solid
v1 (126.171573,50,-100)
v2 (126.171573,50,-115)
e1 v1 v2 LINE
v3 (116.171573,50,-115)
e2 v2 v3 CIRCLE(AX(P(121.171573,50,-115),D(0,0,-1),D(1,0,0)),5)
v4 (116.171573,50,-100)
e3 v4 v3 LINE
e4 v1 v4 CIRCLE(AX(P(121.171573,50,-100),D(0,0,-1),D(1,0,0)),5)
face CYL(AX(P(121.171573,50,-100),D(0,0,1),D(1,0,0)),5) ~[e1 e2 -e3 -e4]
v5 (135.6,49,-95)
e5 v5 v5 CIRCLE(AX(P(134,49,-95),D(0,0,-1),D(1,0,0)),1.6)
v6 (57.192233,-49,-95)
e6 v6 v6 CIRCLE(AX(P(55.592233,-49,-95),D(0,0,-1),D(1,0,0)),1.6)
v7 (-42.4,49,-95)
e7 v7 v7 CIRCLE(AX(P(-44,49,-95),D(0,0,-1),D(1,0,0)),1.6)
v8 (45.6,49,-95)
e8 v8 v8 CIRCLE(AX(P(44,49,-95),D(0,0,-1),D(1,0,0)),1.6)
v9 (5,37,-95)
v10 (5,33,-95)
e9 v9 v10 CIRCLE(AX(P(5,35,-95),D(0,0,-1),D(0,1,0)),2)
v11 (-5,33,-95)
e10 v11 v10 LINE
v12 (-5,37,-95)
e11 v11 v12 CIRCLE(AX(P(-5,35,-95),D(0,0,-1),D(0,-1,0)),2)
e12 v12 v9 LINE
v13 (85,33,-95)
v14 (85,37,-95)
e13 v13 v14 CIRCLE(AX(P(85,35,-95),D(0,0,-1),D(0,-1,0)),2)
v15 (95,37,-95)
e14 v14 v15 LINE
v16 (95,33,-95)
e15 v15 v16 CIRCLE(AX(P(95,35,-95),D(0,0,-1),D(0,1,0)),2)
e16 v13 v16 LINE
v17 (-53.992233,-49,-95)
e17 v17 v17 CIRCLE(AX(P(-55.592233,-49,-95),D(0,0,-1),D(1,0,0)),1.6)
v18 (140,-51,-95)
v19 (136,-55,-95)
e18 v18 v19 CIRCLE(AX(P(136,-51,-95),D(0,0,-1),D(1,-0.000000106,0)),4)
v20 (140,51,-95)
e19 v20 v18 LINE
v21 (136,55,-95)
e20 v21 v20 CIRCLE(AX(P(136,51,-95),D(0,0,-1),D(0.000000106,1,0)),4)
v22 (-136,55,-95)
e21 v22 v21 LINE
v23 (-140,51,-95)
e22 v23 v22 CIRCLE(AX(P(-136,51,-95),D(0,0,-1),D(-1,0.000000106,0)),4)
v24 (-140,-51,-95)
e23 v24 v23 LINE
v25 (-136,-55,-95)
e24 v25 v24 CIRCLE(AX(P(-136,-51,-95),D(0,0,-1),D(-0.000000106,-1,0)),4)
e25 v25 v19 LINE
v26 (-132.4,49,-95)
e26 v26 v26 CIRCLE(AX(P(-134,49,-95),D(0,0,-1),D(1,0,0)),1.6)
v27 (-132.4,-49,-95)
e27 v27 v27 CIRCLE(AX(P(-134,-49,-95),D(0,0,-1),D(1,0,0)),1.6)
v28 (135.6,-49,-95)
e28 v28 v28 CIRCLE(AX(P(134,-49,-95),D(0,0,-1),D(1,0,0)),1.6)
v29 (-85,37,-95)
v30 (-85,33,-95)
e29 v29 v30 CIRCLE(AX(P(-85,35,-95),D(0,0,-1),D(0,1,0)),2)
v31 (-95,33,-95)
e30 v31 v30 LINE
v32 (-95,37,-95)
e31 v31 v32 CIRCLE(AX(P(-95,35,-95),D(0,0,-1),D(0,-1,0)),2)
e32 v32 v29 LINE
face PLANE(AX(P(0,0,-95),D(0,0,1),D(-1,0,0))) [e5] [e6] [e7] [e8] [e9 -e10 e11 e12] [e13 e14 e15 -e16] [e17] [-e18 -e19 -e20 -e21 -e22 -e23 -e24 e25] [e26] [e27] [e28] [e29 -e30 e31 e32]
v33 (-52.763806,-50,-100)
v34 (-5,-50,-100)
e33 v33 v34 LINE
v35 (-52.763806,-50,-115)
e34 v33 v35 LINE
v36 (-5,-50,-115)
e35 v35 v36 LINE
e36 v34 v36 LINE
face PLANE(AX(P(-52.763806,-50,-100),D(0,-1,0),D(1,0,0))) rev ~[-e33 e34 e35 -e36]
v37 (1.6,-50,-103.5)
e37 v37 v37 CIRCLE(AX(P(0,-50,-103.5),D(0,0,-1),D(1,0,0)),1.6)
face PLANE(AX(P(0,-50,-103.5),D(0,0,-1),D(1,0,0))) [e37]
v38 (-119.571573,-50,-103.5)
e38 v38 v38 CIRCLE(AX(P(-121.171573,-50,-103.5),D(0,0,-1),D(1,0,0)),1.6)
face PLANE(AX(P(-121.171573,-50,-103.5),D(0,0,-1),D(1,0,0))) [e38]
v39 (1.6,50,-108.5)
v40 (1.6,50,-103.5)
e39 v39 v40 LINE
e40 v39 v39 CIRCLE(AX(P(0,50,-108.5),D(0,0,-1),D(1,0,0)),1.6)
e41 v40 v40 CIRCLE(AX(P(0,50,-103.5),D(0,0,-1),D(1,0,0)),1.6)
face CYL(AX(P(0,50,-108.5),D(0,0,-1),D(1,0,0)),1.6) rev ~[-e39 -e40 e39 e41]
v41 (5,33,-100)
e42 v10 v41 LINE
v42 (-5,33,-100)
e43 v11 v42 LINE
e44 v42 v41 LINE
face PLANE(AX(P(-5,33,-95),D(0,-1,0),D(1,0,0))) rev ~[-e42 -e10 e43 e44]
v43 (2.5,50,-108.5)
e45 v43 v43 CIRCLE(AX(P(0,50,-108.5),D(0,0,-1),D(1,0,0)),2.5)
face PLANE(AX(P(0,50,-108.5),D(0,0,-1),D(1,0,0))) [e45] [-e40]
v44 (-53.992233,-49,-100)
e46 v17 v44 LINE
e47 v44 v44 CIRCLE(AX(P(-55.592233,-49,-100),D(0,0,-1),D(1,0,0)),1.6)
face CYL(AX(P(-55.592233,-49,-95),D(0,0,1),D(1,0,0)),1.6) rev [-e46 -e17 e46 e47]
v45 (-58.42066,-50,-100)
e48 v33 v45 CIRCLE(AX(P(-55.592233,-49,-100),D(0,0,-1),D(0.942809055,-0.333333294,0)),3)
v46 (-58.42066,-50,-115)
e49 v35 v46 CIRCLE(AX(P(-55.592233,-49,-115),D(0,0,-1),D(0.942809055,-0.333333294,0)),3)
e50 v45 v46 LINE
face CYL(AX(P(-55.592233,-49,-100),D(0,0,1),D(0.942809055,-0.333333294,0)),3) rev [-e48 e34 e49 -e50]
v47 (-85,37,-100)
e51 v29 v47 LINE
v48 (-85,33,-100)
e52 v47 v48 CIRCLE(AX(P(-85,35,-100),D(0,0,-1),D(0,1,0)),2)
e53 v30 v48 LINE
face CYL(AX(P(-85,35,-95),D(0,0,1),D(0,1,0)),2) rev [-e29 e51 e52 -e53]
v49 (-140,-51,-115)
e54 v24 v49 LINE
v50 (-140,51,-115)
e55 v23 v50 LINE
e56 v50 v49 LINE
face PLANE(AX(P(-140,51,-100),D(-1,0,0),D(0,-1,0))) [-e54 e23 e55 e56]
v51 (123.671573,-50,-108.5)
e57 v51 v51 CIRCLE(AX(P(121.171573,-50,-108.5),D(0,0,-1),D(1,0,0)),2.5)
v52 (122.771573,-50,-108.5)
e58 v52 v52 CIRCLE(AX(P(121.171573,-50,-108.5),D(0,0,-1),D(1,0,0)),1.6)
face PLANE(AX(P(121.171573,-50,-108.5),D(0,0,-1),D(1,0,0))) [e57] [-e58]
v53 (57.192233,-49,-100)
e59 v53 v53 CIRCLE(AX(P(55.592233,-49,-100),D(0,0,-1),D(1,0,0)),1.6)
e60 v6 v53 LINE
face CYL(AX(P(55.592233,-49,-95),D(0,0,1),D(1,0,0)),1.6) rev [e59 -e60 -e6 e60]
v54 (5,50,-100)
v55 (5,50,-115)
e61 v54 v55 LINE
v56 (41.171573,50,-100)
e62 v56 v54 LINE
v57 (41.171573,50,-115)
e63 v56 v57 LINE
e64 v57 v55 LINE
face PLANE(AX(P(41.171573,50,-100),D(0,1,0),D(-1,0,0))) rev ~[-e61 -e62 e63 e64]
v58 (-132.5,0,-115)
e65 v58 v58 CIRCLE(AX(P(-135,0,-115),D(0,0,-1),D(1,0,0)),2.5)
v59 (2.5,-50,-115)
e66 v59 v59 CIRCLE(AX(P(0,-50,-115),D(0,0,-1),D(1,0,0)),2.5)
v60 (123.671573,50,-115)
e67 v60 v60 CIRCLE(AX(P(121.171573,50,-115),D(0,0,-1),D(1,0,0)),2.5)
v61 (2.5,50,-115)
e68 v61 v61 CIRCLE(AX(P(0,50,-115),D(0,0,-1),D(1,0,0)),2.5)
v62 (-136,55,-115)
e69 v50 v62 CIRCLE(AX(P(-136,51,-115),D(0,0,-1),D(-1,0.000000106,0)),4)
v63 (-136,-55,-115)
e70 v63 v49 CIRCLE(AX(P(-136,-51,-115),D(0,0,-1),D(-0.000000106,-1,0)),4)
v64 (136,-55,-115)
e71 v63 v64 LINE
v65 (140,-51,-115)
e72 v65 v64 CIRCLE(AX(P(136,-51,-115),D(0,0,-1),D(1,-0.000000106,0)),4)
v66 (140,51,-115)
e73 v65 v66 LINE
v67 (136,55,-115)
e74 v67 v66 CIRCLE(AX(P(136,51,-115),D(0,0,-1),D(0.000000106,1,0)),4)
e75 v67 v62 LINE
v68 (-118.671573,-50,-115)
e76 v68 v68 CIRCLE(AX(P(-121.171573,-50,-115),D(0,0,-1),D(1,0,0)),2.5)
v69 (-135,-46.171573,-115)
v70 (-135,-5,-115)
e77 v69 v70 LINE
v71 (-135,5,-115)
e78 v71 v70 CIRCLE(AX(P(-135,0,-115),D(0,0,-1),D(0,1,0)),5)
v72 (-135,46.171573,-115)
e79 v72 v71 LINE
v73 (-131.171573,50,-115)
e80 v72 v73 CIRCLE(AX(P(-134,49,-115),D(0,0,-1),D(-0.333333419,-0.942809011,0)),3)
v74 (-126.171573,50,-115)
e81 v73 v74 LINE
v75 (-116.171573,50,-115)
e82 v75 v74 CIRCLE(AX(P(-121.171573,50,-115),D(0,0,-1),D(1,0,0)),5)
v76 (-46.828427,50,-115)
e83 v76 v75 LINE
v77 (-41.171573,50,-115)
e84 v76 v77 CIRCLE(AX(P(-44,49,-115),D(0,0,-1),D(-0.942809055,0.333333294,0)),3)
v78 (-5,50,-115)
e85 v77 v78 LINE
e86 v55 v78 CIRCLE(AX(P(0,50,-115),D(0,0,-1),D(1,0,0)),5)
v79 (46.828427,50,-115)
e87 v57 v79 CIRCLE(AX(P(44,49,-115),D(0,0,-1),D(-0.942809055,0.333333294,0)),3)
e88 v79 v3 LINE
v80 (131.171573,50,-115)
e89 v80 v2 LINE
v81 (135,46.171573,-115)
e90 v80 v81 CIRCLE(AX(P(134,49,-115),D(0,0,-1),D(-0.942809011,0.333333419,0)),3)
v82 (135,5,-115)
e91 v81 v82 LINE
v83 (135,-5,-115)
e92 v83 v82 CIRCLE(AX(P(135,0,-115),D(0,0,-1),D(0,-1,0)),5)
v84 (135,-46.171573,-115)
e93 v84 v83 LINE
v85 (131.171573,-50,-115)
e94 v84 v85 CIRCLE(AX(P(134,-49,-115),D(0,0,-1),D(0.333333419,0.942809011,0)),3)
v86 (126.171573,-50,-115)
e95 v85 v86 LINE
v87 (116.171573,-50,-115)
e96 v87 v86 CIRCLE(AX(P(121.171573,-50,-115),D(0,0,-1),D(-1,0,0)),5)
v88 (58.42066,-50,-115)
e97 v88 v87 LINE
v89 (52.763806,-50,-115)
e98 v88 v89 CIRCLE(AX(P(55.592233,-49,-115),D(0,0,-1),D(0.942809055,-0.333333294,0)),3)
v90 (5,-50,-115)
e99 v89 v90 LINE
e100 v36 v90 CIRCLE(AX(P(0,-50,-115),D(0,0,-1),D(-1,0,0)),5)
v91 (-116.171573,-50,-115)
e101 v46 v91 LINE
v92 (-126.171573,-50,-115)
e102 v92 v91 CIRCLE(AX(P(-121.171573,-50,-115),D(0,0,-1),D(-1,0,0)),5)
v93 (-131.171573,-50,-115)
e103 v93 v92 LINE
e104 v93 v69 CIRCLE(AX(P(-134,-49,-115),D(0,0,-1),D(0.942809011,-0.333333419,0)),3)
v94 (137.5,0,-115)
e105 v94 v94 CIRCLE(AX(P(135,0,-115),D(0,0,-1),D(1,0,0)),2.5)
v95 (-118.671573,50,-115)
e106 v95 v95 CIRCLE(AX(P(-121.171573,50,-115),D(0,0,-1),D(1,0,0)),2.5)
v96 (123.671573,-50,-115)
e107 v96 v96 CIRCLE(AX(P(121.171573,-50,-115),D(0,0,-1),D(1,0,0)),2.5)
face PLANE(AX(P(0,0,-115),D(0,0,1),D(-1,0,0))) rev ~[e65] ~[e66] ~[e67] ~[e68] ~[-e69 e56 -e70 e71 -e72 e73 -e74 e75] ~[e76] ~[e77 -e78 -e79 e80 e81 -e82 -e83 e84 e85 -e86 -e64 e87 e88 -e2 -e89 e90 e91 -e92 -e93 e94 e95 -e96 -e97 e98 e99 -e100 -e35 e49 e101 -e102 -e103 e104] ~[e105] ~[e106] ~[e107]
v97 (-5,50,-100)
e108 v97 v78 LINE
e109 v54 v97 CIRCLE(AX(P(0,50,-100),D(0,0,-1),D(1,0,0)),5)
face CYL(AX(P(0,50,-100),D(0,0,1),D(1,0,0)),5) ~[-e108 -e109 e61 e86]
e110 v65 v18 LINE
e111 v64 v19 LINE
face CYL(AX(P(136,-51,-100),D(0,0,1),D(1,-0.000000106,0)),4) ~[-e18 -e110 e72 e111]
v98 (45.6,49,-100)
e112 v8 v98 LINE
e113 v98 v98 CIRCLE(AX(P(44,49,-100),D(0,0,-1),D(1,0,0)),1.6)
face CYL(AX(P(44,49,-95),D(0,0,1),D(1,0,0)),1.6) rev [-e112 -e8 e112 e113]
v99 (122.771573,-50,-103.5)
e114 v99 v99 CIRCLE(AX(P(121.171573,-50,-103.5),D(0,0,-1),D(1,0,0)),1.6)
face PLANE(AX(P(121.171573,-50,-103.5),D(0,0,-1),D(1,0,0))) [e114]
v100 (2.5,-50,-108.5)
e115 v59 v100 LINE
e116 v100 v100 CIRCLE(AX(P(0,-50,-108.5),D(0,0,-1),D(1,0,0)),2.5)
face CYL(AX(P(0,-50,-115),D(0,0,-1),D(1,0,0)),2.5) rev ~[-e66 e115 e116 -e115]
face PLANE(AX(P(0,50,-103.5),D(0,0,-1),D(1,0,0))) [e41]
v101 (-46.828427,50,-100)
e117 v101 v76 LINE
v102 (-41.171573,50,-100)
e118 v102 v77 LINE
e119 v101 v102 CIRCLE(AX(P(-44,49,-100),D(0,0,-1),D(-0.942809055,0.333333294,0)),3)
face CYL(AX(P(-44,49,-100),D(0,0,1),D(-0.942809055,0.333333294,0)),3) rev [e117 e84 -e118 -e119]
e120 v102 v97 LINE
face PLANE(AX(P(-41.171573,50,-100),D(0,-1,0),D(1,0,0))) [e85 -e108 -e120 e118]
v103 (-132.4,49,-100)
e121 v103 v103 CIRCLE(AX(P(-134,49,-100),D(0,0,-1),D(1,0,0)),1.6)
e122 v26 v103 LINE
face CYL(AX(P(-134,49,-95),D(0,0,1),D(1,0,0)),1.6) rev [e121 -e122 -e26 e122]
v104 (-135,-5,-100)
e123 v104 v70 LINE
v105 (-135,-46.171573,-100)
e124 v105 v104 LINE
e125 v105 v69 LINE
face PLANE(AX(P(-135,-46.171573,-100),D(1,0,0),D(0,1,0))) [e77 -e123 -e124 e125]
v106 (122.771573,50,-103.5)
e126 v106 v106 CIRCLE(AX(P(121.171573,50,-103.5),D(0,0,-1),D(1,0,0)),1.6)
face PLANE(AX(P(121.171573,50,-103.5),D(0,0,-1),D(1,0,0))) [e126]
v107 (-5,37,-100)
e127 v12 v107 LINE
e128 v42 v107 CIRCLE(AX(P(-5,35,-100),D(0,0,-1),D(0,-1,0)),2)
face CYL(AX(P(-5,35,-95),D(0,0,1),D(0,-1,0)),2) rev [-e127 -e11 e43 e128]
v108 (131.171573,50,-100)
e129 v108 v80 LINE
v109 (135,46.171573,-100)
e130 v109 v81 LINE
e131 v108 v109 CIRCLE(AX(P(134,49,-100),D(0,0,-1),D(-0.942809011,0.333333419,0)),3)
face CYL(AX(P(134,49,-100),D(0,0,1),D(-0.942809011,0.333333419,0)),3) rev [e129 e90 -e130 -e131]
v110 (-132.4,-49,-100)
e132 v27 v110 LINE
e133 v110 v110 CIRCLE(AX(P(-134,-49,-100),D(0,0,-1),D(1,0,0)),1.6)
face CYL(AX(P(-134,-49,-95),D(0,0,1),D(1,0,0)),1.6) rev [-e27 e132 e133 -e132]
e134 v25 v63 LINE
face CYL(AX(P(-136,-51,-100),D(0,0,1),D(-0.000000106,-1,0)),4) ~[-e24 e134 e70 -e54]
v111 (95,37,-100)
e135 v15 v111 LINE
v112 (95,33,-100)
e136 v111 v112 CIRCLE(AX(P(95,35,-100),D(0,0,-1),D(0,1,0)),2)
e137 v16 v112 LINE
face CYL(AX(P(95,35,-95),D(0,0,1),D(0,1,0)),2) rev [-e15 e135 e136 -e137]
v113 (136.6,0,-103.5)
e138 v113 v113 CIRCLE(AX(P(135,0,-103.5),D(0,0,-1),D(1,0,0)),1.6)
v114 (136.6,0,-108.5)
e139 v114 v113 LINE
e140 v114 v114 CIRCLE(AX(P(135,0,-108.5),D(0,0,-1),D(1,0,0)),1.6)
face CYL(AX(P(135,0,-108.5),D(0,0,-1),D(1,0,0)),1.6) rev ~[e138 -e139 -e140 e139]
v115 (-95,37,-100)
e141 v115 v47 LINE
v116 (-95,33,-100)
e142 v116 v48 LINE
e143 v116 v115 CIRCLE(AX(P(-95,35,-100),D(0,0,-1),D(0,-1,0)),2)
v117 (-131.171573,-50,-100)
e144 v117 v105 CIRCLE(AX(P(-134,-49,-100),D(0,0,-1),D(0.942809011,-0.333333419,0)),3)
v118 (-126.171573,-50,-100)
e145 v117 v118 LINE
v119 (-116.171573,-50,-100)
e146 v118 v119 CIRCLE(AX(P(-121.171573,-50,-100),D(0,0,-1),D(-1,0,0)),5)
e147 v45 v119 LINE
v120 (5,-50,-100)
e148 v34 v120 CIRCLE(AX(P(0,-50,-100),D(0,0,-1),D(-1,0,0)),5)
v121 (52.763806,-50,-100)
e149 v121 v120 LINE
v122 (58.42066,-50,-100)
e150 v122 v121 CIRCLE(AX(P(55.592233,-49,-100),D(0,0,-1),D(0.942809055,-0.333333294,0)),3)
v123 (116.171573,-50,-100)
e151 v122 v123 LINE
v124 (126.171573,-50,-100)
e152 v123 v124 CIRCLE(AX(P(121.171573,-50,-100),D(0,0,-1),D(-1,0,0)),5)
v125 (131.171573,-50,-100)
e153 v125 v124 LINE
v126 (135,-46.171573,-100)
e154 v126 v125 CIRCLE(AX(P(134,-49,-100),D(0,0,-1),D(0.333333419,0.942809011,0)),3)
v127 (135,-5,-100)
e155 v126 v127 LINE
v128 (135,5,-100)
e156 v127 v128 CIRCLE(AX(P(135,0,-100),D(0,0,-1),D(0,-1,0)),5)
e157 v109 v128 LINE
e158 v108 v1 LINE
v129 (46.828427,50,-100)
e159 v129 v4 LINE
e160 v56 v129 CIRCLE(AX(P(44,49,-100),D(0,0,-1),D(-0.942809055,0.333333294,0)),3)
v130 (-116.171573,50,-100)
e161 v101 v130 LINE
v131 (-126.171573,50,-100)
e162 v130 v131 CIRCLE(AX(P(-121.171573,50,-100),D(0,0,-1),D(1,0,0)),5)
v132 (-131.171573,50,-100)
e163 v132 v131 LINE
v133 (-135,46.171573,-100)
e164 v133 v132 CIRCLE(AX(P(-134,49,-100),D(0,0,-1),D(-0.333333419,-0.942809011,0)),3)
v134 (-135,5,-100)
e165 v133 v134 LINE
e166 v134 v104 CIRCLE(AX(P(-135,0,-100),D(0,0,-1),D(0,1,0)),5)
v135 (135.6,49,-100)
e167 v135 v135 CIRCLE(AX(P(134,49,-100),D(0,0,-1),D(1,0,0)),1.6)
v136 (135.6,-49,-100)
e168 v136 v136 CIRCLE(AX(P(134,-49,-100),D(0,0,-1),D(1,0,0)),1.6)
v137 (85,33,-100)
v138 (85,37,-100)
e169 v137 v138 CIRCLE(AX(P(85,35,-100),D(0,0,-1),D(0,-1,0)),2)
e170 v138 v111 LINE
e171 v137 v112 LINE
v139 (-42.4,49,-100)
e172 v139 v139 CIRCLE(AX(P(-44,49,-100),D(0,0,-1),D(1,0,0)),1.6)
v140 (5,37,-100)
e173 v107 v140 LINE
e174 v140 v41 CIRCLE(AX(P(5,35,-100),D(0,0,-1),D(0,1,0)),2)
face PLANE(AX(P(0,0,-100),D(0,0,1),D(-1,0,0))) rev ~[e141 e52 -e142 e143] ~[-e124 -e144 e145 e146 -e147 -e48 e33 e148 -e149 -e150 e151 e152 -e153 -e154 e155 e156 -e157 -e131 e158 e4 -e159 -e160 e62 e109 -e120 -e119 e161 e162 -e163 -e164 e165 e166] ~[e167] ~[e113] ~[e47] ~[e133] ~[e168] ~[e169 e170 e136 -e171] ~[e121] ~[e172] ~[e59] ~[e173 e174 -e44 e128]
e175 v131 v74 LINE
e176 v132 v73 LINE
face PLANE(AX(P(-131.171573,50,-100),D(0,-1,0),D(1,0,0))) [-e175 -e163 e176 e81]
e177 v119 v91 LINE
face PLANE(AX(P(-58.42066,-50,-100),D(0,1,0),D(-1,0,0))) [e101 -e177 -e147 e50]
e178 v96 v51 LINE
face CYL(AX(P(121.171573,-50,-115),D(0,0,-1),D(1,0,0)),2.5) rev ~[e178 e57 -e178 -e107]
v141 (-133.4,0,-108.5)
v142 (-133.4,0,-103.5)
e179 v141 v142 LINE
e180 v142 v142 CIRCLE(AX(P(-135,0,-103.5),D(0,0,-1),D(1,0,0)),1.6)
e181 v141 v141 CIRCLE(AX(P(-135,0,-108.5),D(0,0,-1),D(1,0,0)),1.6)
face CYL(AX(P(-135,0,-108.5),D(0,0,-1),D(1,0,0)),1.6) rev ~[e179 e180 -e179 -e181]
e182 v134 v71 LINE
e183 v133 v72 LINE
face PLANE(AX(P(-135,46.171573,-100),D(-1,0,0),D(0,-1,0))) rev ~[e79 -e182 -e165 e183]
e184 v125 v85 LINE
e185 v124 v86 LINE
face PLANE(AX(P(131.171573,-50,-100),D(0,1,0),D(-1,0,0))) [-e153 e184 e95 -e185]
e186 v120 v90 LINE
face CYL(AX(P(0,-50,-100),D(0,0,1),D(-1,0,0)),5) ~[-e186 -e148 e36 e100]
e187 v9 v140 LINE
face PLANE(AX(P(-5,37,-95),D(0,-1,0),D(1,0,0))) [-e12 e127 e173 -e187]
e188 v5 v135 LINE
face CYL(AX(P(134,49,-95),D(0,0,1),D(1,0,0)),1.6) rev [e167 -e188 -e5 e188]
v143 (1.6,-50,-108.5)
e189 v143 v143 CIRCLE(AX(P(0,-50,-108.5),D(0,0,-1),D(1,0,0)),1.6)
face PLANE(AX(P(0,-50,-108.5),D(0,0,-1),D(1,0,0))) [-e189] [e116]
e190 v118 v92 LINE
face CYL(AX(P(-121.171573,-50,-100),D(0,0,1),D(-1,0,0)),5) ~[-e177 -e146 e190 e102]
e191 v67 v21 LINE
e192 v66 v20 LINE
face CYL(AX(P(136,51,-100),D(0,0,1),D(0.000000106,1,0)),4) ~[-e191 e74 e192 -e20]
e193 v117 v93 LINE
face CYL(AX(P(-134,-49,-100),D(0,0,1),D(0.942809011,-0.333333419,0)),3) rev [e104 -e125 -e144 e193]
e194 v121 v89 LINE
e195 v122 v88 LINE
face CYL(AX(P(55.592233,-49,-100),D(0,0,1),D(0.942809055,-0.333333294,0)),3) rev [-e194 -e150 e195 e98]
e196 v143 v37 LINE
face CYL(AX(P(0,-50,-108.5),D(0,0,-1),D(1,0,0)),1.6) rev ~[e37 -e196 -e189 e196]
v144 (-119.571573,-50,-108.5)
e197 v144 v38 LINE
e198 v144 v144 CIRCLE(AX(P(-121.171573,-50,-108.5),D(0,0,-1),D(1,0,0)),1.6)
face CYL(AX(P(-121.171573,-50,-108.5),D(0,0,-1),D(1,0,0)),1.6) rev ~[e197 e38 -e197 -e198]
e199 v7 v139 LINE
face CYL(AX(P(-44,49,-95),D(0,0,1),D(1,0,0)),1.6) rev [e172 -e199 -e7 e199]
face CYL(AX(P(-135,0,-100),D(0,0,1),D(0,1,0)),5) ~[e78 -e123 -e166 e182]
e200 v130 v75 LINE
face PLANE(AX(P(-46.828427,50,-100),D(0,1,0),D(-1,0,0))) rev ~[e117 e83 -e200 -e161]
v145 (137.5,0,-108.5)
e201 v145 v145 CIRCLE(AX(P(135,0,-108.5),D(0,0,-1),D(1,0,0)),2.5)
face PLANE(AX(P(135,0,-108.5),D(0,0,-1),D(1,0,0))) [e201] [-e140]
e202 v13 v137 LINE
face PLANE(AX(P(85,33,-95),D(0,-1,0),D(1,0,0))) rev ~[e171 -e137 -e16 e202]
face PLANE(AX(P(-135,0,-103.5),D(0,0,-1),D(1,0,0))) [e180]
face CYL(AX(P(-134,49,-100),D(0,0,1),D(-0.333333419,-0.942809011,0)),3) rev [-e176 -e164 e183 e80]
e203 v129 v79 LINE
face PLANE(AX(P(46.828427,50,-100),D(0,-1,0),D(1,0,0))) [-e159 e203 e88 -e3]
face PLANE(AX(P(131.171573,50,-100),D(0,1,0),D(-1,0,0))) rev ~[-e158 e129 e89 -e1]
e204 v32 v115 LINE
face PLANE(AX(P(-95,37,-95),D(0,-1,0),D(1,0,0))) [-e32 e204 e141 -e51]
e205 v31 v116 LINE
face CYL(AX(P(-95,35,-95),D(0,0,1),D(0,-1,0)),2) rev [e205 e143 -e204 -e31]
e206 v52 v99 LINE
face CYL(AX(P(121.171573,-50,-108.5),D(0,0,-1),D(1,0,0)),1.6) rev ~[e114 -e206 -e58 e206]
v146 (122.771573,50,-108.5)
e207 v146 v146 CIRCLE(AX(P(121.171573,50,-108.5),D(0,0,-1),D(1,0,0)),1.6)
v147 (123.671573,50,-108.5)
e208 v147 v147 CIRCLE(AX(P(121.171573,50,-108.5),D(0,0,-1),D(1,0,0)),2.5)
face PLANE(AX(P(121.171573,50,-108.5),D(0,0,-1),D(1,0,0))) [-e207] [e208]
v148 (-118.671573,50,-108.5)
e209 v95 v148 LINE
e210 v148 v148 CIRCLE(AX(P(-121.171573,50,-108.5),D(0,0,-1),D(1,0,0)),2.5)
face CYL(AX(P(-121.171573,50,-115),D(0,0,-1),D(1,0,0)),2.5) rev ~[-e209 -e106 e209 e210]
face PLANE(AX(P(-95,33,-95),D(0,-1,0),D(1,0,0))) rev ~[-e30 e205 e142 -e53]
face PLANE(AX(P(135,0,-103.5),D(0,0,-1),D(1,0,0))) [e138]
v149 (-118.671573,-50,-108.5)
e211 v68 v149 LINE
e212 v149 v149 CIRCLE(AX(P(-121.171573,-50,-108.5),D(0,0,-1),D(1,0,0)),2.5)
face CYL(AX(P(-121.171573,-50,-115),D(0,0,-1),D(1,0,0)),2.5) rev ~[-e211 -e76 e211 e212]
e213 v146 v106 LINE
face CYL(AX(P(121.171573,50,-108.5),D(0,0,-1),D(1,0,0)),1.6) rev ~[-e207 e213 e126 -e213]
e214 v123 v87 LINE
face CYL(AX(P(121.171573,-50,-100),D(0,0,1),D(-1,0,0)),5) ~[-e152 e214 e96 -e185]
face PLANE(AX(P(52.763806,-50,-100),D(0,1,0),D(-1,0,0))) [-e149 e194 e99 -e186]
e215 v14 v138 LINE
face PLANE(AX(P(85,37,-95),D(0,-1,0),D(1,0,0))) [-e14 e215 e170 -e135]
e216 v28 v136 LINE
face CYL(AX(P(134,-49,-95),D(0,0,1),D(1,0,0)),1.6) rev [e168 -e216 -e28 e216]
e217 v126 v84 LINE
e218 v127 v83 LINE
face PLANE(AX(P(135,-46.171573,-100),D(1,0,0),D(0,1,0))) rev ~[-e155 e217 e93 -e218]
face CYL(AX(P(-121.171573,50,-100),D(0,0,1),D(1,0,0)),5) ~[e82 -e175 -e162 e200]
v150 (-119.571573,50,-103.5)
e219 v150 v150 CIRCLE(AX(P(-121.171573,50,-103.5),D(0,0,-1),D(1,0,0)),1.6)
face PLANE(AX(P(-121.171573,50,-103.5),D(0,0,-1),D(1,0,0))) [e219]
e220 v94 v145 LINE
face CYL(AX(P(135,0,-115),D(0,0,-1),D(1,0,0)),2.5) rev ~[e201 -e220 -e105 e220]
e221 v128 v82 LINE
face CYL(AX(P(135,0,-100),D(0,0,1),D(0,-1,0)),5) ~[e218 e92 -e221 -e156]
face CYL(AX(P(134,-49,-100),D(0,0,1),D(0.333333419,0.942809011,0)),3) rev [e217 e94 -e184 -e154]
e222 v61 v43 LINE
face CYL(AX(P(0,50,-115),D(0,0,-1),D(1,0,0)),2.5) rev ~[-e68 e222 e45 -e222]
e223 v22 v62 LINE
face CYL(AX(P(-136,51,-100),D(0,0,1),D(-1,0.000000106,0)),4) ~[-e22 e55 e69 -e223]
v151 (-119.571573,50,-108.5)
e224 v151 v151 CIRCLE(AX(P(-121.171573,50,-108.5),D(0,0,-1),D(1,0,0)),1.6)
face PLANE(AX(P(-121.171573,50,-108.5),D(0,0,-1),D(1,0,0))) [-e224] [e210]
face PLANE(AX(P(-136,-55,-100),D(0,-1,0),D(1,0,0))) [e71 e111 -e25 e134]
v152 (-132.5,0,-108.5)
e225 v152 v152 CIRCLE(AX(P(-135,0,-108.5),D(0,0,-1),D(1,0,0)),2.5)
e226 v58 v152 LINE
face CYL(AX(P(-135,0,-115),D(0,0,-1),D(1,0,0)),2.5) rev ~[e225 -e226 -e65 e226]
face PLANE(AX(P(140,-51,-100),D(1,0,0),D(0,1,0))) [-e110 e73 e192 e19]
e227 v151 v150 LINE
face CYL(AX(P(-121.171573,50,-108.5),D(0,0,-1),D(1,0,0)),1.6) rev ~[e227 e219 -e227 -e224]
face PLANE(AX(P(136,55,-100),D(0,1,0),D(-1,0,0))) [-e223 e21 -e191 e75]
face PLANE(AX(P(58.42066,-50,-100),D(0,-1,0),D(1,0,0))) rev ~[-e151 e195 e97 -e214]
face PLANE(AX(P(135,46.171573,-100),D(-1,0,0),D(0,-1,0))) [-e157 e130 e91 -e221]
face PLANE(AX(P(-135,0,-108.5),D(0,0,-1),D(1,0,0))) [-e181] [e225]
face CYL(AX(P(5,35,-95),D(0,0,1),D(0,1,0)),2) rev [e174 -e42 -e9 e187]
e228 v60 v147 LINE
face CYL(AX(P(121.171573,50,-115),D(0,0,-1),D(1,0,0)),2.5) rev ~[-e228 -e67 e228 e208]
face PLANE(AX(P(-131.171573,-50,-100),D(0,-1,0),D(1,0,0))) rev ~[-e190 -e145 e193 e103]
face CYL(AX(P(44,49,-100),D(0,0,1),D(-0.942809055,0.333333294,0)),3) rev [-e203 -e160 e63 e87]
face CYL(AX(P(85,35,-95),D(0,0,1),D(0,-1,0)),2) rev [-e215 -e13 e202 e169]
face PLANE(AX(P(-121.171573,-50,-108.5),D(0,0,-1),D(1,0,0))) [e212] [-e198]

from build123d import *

# Parameters (mm, degrees)
SKETCH022_R     = 1.6
PAD008_DEPTH    = 5
PAD009_DEPTH    = 15
SKETCH024_R     = 2.5
POCKET014_DEPTH = 6.5
SKETCH025_R     = 1.6
POCKET015_DEPTH = 5


with BuildPart() as part:
    # Sketch022 (on ShapeBinder) → Pad008 (new body)
    with BuildSketch(Plane(origin=(0, 0, -95), x_dir=(1, 0, 0), z_dir=(0, 0, -1))):
        with BuildLine():
            Line((-136, 55), (136, 55))
            ThreePointArc((140, 51), (138.828427, 53.828427), (136, 55))
            Line((140, -51), (140, 51))
            ThreePointArc((136, -55), (138.828427, -53.828427), (140, -51))
            Line((-136, -55), (136, -55))
            ThreePointArc((-140, -51), (-138.828427, -53.828427), (-136, -55))
            Line((-140, 51), (-140, -51))
            ThreePointArc((-136, 55), (-138.828427, 53.828427), (-140, 51))
        make_face()
        with Locations((134, 49)):
            Circle(SKETCH022_R, mode=Mode.SUBTRACT)
        with Locations((134, -49)):
            Circle(SKETCH022_R, mode=Mode.SUBTRACT)
        with Locations((44, -49)):
            Circle(SKETCH022_R, mode=Mode.SUBTRACT)
        with Locations((-44, -49)):
            Circle(SKETCH022_R, mode=Mode.SUBTRACT)
        with Locations((-134, -49)):
            Circle(SKETCH022_R, mode=Mode.SUBTRACT)
        with Locations((-134, 49)):
            Circle(SKETCH022_R, mode=Mode.SUBTRACT)
        with Locations((-55.592233, 49)):
            Circle(SKETCH022_R, mode=Mode.SUBTRACT)
        with Locations((55.592233, 49)):
            Circle(SKETCH022_R, mode=Mode.SUBTRACT)
        with BuildLine():
            ThreePointArc((-95, -33), (-97, -35), (-95, -37))
            Line((-95, -37), (-85, -37))
            ThreePointArc((-85, -37), (-83, -35), (-85, -33))
            Line((-95, -33), (-85, -33))
        make_face(mode=Mode.SUBTRACT)
        with BuildLine():
            ThreePointArc((-5, -33), (-7, -35), (-5, -37))
            Line((-5, -37), (5, -37))
            ThreePointArc((5, -37), (7, -35), (5, -33))
            Line((-5, -33), (5, -33))
        make_face(mode=Mode.SUBTRACT)
        with BuildLine():
            ThreePointArc((85, -33), (83, -35), (85, -37))
            Line((85, -37), (95, -37))
            ThreePointArc((95, -37), (97, -35), (95, -33))
            Line((85, -33), (95, -33))
        make_face(mode=Mode.SUBTRACT)
    extrude(amount=PAD008_DEPTH)

    # Sketch023 (on Face30 of Pad008) → Pad009 (join)
    with BuildSketch(Plane(origin=(0, 0, -100), x_dir=(1, 0, 0), z_dir=(0, 0, -1))):
        with BuildLine():
            Line((-136, 55), (136, 55))
            ThreePointArc((140, 51), (138.828427, 53.828427), (136, 55))
            Line((140, 51), (140, -51))
            ThreePointArc((136, -55), (138.828427, -53.828427), (140, -51))
            Line((136, -55), (-136, -55))
            ThreePointArc((-140, -51), (-138.828427, -53.828427), (-136, -55))
            Line((-140, -51), (-140, 51))
            ThreePointArc((-136, 55), (-138.828427, 53.828427), (-140, 51))
        make_face()
        with BuildLine():
            ThreePointArc((-46.828427, -50), (-44, -52), (-41.171573, -50))
            Line((-41.171573, -50), (-5, -50))
            ThreePointArc((5, -50), (0, -45), (-5, -50))
            Line((41.171573, -50), (5, -50))
            ThreePointArc((41.171573, -50), (44, -52), (46.828427, -50))
            Line((46.828427, -50), (116.171573, -50))
            ThreePointArc((126.171573, -50), (121.171573, -45), (116.171573, -50))
            Line((131.171573, -50), (126.171573, -50))
            ThreePointArc((131.171573, -50), (136.12132, -51.12132), (135, -46.171573))
            Line((135, -46.171573), (135, -5))
            ThreePointArc((135, 5), (130, 0), (135, -5))
            Line((135, 46.171573), (135, 5))
            ThreePointArc((135, 46.171573), (136.12132, 51.12132), (131.171573, 50))
            Line((131.171573, 50), (126.171573, 50))
            ThreePointArc((116.171573, 50), (121.171573, 45), (126.171573, 50))
            Line((58.42066, 50), (116.171573, 50))
            ThreePointArc((58.42066, 50), (55.592233, 52), (52.763806, 50))
            Line((52.763806, 50), (5, 50))
            ThreePointArc((-5, 50), (0, 45), (5, 50))
            Line((-52.763806, 50), (-5, 50))
            ThreePointArc((-52.763806, 50), (-55.592233, 52), (-58.42066, 50))
            Line((-58.42066, 50), (-116.171573, 50))
            ThreePointArc((-126.171573, 50), (-121.171573, 45), (-116.171573, 50))
            Line((-131.171573, 50), (-126.171573, 50))
            ThreePointArc((-131.171573, 50), (-136.12132, 51.12132), (-135, 46.171573))
            Line((-135, 46.171573), (-135, 5))
            ThreePointArc((-135, -5), (-130, 0), (-135, 5))
            Line((-135, -46.171573), (-135, -5))
            ThreePointArc((-135, -46.171573), (-136.12132, -51.12132), (-131.171573, -50))
            Line((-131.171573, -50), (-126.171573, -50))
            ThreePointArc((-116.171573, -50), (-121.171573, -45), (-126.171573, -50))
            Line((-46.828427, -50), (-116.171573, -50))
        make_face(mode=Mode.SUBTRACT)
    extrude(amount=PAD009_DEPTH)

    # Sketch024 (on Face33 of Pad009) → Pocket014 (cut)
    with BuildSketch(Plane(origin=(0, 0, -115), x_dir=(1, 0, 0), z_dir=(0, 0, -1))):
        with Locations((-121.171573, 50)):
            Circle(SKETCH024_R)
        with Locations((0, 50)):
            Circle(SKETCH024_R)
        with Locations((121.171573, 50)):
            Circle(SKETCH024_R)
        with Locations((-135, 0)):
            Circle(SKETCH024_R)
        with Locations((-121.171573, -50)):
            Circle(SKETCH024_R)
        with Locations((0, -50)):
            Circle(SKETCH024_R)
        with Locations((121.171573, -50)):
            Circle(SKETCH024_R)
        with Locations((135, 0)):
            Circle(SKETCH024_R)
    extrude(amount=-POCKET014_DEPTH, mode=Mode.SUBTRACT)

    # Sketch025 (on Face83 of Pocket014) → Pocket015 (cut)
    with BuildSketch(Plane(origin=(0, 0, -108.5), x_dir=(1, 0, 0), z_dir=(0, 0, -1))):
        with Locations((-121.171573, 50)):
            Circle(SKETCH025_R)
        with Locations((-135, 0)):
            Circle(SKETCH025_R)
        with Locations((0, 50)):
            Circle(SKETCH025_R)
        with Locations((-121.171573, -50)):
            Circle(SKETCH025_R)
        with Locations((0, -50)):
            Circle(SKETCH025_R)
        with Locations((121.171573, -50)):
            Circle(SKETCH025_R)
        with Locations((135, 0)):
            Circle(SKETCH025_R)
        with Locations((121.171573, 50)):
            Circle(SKETCH025_R)
    extrude(amount=-POCKET015_DEPTH, mode=Mode.SUBTRACT)


solid = part.part
